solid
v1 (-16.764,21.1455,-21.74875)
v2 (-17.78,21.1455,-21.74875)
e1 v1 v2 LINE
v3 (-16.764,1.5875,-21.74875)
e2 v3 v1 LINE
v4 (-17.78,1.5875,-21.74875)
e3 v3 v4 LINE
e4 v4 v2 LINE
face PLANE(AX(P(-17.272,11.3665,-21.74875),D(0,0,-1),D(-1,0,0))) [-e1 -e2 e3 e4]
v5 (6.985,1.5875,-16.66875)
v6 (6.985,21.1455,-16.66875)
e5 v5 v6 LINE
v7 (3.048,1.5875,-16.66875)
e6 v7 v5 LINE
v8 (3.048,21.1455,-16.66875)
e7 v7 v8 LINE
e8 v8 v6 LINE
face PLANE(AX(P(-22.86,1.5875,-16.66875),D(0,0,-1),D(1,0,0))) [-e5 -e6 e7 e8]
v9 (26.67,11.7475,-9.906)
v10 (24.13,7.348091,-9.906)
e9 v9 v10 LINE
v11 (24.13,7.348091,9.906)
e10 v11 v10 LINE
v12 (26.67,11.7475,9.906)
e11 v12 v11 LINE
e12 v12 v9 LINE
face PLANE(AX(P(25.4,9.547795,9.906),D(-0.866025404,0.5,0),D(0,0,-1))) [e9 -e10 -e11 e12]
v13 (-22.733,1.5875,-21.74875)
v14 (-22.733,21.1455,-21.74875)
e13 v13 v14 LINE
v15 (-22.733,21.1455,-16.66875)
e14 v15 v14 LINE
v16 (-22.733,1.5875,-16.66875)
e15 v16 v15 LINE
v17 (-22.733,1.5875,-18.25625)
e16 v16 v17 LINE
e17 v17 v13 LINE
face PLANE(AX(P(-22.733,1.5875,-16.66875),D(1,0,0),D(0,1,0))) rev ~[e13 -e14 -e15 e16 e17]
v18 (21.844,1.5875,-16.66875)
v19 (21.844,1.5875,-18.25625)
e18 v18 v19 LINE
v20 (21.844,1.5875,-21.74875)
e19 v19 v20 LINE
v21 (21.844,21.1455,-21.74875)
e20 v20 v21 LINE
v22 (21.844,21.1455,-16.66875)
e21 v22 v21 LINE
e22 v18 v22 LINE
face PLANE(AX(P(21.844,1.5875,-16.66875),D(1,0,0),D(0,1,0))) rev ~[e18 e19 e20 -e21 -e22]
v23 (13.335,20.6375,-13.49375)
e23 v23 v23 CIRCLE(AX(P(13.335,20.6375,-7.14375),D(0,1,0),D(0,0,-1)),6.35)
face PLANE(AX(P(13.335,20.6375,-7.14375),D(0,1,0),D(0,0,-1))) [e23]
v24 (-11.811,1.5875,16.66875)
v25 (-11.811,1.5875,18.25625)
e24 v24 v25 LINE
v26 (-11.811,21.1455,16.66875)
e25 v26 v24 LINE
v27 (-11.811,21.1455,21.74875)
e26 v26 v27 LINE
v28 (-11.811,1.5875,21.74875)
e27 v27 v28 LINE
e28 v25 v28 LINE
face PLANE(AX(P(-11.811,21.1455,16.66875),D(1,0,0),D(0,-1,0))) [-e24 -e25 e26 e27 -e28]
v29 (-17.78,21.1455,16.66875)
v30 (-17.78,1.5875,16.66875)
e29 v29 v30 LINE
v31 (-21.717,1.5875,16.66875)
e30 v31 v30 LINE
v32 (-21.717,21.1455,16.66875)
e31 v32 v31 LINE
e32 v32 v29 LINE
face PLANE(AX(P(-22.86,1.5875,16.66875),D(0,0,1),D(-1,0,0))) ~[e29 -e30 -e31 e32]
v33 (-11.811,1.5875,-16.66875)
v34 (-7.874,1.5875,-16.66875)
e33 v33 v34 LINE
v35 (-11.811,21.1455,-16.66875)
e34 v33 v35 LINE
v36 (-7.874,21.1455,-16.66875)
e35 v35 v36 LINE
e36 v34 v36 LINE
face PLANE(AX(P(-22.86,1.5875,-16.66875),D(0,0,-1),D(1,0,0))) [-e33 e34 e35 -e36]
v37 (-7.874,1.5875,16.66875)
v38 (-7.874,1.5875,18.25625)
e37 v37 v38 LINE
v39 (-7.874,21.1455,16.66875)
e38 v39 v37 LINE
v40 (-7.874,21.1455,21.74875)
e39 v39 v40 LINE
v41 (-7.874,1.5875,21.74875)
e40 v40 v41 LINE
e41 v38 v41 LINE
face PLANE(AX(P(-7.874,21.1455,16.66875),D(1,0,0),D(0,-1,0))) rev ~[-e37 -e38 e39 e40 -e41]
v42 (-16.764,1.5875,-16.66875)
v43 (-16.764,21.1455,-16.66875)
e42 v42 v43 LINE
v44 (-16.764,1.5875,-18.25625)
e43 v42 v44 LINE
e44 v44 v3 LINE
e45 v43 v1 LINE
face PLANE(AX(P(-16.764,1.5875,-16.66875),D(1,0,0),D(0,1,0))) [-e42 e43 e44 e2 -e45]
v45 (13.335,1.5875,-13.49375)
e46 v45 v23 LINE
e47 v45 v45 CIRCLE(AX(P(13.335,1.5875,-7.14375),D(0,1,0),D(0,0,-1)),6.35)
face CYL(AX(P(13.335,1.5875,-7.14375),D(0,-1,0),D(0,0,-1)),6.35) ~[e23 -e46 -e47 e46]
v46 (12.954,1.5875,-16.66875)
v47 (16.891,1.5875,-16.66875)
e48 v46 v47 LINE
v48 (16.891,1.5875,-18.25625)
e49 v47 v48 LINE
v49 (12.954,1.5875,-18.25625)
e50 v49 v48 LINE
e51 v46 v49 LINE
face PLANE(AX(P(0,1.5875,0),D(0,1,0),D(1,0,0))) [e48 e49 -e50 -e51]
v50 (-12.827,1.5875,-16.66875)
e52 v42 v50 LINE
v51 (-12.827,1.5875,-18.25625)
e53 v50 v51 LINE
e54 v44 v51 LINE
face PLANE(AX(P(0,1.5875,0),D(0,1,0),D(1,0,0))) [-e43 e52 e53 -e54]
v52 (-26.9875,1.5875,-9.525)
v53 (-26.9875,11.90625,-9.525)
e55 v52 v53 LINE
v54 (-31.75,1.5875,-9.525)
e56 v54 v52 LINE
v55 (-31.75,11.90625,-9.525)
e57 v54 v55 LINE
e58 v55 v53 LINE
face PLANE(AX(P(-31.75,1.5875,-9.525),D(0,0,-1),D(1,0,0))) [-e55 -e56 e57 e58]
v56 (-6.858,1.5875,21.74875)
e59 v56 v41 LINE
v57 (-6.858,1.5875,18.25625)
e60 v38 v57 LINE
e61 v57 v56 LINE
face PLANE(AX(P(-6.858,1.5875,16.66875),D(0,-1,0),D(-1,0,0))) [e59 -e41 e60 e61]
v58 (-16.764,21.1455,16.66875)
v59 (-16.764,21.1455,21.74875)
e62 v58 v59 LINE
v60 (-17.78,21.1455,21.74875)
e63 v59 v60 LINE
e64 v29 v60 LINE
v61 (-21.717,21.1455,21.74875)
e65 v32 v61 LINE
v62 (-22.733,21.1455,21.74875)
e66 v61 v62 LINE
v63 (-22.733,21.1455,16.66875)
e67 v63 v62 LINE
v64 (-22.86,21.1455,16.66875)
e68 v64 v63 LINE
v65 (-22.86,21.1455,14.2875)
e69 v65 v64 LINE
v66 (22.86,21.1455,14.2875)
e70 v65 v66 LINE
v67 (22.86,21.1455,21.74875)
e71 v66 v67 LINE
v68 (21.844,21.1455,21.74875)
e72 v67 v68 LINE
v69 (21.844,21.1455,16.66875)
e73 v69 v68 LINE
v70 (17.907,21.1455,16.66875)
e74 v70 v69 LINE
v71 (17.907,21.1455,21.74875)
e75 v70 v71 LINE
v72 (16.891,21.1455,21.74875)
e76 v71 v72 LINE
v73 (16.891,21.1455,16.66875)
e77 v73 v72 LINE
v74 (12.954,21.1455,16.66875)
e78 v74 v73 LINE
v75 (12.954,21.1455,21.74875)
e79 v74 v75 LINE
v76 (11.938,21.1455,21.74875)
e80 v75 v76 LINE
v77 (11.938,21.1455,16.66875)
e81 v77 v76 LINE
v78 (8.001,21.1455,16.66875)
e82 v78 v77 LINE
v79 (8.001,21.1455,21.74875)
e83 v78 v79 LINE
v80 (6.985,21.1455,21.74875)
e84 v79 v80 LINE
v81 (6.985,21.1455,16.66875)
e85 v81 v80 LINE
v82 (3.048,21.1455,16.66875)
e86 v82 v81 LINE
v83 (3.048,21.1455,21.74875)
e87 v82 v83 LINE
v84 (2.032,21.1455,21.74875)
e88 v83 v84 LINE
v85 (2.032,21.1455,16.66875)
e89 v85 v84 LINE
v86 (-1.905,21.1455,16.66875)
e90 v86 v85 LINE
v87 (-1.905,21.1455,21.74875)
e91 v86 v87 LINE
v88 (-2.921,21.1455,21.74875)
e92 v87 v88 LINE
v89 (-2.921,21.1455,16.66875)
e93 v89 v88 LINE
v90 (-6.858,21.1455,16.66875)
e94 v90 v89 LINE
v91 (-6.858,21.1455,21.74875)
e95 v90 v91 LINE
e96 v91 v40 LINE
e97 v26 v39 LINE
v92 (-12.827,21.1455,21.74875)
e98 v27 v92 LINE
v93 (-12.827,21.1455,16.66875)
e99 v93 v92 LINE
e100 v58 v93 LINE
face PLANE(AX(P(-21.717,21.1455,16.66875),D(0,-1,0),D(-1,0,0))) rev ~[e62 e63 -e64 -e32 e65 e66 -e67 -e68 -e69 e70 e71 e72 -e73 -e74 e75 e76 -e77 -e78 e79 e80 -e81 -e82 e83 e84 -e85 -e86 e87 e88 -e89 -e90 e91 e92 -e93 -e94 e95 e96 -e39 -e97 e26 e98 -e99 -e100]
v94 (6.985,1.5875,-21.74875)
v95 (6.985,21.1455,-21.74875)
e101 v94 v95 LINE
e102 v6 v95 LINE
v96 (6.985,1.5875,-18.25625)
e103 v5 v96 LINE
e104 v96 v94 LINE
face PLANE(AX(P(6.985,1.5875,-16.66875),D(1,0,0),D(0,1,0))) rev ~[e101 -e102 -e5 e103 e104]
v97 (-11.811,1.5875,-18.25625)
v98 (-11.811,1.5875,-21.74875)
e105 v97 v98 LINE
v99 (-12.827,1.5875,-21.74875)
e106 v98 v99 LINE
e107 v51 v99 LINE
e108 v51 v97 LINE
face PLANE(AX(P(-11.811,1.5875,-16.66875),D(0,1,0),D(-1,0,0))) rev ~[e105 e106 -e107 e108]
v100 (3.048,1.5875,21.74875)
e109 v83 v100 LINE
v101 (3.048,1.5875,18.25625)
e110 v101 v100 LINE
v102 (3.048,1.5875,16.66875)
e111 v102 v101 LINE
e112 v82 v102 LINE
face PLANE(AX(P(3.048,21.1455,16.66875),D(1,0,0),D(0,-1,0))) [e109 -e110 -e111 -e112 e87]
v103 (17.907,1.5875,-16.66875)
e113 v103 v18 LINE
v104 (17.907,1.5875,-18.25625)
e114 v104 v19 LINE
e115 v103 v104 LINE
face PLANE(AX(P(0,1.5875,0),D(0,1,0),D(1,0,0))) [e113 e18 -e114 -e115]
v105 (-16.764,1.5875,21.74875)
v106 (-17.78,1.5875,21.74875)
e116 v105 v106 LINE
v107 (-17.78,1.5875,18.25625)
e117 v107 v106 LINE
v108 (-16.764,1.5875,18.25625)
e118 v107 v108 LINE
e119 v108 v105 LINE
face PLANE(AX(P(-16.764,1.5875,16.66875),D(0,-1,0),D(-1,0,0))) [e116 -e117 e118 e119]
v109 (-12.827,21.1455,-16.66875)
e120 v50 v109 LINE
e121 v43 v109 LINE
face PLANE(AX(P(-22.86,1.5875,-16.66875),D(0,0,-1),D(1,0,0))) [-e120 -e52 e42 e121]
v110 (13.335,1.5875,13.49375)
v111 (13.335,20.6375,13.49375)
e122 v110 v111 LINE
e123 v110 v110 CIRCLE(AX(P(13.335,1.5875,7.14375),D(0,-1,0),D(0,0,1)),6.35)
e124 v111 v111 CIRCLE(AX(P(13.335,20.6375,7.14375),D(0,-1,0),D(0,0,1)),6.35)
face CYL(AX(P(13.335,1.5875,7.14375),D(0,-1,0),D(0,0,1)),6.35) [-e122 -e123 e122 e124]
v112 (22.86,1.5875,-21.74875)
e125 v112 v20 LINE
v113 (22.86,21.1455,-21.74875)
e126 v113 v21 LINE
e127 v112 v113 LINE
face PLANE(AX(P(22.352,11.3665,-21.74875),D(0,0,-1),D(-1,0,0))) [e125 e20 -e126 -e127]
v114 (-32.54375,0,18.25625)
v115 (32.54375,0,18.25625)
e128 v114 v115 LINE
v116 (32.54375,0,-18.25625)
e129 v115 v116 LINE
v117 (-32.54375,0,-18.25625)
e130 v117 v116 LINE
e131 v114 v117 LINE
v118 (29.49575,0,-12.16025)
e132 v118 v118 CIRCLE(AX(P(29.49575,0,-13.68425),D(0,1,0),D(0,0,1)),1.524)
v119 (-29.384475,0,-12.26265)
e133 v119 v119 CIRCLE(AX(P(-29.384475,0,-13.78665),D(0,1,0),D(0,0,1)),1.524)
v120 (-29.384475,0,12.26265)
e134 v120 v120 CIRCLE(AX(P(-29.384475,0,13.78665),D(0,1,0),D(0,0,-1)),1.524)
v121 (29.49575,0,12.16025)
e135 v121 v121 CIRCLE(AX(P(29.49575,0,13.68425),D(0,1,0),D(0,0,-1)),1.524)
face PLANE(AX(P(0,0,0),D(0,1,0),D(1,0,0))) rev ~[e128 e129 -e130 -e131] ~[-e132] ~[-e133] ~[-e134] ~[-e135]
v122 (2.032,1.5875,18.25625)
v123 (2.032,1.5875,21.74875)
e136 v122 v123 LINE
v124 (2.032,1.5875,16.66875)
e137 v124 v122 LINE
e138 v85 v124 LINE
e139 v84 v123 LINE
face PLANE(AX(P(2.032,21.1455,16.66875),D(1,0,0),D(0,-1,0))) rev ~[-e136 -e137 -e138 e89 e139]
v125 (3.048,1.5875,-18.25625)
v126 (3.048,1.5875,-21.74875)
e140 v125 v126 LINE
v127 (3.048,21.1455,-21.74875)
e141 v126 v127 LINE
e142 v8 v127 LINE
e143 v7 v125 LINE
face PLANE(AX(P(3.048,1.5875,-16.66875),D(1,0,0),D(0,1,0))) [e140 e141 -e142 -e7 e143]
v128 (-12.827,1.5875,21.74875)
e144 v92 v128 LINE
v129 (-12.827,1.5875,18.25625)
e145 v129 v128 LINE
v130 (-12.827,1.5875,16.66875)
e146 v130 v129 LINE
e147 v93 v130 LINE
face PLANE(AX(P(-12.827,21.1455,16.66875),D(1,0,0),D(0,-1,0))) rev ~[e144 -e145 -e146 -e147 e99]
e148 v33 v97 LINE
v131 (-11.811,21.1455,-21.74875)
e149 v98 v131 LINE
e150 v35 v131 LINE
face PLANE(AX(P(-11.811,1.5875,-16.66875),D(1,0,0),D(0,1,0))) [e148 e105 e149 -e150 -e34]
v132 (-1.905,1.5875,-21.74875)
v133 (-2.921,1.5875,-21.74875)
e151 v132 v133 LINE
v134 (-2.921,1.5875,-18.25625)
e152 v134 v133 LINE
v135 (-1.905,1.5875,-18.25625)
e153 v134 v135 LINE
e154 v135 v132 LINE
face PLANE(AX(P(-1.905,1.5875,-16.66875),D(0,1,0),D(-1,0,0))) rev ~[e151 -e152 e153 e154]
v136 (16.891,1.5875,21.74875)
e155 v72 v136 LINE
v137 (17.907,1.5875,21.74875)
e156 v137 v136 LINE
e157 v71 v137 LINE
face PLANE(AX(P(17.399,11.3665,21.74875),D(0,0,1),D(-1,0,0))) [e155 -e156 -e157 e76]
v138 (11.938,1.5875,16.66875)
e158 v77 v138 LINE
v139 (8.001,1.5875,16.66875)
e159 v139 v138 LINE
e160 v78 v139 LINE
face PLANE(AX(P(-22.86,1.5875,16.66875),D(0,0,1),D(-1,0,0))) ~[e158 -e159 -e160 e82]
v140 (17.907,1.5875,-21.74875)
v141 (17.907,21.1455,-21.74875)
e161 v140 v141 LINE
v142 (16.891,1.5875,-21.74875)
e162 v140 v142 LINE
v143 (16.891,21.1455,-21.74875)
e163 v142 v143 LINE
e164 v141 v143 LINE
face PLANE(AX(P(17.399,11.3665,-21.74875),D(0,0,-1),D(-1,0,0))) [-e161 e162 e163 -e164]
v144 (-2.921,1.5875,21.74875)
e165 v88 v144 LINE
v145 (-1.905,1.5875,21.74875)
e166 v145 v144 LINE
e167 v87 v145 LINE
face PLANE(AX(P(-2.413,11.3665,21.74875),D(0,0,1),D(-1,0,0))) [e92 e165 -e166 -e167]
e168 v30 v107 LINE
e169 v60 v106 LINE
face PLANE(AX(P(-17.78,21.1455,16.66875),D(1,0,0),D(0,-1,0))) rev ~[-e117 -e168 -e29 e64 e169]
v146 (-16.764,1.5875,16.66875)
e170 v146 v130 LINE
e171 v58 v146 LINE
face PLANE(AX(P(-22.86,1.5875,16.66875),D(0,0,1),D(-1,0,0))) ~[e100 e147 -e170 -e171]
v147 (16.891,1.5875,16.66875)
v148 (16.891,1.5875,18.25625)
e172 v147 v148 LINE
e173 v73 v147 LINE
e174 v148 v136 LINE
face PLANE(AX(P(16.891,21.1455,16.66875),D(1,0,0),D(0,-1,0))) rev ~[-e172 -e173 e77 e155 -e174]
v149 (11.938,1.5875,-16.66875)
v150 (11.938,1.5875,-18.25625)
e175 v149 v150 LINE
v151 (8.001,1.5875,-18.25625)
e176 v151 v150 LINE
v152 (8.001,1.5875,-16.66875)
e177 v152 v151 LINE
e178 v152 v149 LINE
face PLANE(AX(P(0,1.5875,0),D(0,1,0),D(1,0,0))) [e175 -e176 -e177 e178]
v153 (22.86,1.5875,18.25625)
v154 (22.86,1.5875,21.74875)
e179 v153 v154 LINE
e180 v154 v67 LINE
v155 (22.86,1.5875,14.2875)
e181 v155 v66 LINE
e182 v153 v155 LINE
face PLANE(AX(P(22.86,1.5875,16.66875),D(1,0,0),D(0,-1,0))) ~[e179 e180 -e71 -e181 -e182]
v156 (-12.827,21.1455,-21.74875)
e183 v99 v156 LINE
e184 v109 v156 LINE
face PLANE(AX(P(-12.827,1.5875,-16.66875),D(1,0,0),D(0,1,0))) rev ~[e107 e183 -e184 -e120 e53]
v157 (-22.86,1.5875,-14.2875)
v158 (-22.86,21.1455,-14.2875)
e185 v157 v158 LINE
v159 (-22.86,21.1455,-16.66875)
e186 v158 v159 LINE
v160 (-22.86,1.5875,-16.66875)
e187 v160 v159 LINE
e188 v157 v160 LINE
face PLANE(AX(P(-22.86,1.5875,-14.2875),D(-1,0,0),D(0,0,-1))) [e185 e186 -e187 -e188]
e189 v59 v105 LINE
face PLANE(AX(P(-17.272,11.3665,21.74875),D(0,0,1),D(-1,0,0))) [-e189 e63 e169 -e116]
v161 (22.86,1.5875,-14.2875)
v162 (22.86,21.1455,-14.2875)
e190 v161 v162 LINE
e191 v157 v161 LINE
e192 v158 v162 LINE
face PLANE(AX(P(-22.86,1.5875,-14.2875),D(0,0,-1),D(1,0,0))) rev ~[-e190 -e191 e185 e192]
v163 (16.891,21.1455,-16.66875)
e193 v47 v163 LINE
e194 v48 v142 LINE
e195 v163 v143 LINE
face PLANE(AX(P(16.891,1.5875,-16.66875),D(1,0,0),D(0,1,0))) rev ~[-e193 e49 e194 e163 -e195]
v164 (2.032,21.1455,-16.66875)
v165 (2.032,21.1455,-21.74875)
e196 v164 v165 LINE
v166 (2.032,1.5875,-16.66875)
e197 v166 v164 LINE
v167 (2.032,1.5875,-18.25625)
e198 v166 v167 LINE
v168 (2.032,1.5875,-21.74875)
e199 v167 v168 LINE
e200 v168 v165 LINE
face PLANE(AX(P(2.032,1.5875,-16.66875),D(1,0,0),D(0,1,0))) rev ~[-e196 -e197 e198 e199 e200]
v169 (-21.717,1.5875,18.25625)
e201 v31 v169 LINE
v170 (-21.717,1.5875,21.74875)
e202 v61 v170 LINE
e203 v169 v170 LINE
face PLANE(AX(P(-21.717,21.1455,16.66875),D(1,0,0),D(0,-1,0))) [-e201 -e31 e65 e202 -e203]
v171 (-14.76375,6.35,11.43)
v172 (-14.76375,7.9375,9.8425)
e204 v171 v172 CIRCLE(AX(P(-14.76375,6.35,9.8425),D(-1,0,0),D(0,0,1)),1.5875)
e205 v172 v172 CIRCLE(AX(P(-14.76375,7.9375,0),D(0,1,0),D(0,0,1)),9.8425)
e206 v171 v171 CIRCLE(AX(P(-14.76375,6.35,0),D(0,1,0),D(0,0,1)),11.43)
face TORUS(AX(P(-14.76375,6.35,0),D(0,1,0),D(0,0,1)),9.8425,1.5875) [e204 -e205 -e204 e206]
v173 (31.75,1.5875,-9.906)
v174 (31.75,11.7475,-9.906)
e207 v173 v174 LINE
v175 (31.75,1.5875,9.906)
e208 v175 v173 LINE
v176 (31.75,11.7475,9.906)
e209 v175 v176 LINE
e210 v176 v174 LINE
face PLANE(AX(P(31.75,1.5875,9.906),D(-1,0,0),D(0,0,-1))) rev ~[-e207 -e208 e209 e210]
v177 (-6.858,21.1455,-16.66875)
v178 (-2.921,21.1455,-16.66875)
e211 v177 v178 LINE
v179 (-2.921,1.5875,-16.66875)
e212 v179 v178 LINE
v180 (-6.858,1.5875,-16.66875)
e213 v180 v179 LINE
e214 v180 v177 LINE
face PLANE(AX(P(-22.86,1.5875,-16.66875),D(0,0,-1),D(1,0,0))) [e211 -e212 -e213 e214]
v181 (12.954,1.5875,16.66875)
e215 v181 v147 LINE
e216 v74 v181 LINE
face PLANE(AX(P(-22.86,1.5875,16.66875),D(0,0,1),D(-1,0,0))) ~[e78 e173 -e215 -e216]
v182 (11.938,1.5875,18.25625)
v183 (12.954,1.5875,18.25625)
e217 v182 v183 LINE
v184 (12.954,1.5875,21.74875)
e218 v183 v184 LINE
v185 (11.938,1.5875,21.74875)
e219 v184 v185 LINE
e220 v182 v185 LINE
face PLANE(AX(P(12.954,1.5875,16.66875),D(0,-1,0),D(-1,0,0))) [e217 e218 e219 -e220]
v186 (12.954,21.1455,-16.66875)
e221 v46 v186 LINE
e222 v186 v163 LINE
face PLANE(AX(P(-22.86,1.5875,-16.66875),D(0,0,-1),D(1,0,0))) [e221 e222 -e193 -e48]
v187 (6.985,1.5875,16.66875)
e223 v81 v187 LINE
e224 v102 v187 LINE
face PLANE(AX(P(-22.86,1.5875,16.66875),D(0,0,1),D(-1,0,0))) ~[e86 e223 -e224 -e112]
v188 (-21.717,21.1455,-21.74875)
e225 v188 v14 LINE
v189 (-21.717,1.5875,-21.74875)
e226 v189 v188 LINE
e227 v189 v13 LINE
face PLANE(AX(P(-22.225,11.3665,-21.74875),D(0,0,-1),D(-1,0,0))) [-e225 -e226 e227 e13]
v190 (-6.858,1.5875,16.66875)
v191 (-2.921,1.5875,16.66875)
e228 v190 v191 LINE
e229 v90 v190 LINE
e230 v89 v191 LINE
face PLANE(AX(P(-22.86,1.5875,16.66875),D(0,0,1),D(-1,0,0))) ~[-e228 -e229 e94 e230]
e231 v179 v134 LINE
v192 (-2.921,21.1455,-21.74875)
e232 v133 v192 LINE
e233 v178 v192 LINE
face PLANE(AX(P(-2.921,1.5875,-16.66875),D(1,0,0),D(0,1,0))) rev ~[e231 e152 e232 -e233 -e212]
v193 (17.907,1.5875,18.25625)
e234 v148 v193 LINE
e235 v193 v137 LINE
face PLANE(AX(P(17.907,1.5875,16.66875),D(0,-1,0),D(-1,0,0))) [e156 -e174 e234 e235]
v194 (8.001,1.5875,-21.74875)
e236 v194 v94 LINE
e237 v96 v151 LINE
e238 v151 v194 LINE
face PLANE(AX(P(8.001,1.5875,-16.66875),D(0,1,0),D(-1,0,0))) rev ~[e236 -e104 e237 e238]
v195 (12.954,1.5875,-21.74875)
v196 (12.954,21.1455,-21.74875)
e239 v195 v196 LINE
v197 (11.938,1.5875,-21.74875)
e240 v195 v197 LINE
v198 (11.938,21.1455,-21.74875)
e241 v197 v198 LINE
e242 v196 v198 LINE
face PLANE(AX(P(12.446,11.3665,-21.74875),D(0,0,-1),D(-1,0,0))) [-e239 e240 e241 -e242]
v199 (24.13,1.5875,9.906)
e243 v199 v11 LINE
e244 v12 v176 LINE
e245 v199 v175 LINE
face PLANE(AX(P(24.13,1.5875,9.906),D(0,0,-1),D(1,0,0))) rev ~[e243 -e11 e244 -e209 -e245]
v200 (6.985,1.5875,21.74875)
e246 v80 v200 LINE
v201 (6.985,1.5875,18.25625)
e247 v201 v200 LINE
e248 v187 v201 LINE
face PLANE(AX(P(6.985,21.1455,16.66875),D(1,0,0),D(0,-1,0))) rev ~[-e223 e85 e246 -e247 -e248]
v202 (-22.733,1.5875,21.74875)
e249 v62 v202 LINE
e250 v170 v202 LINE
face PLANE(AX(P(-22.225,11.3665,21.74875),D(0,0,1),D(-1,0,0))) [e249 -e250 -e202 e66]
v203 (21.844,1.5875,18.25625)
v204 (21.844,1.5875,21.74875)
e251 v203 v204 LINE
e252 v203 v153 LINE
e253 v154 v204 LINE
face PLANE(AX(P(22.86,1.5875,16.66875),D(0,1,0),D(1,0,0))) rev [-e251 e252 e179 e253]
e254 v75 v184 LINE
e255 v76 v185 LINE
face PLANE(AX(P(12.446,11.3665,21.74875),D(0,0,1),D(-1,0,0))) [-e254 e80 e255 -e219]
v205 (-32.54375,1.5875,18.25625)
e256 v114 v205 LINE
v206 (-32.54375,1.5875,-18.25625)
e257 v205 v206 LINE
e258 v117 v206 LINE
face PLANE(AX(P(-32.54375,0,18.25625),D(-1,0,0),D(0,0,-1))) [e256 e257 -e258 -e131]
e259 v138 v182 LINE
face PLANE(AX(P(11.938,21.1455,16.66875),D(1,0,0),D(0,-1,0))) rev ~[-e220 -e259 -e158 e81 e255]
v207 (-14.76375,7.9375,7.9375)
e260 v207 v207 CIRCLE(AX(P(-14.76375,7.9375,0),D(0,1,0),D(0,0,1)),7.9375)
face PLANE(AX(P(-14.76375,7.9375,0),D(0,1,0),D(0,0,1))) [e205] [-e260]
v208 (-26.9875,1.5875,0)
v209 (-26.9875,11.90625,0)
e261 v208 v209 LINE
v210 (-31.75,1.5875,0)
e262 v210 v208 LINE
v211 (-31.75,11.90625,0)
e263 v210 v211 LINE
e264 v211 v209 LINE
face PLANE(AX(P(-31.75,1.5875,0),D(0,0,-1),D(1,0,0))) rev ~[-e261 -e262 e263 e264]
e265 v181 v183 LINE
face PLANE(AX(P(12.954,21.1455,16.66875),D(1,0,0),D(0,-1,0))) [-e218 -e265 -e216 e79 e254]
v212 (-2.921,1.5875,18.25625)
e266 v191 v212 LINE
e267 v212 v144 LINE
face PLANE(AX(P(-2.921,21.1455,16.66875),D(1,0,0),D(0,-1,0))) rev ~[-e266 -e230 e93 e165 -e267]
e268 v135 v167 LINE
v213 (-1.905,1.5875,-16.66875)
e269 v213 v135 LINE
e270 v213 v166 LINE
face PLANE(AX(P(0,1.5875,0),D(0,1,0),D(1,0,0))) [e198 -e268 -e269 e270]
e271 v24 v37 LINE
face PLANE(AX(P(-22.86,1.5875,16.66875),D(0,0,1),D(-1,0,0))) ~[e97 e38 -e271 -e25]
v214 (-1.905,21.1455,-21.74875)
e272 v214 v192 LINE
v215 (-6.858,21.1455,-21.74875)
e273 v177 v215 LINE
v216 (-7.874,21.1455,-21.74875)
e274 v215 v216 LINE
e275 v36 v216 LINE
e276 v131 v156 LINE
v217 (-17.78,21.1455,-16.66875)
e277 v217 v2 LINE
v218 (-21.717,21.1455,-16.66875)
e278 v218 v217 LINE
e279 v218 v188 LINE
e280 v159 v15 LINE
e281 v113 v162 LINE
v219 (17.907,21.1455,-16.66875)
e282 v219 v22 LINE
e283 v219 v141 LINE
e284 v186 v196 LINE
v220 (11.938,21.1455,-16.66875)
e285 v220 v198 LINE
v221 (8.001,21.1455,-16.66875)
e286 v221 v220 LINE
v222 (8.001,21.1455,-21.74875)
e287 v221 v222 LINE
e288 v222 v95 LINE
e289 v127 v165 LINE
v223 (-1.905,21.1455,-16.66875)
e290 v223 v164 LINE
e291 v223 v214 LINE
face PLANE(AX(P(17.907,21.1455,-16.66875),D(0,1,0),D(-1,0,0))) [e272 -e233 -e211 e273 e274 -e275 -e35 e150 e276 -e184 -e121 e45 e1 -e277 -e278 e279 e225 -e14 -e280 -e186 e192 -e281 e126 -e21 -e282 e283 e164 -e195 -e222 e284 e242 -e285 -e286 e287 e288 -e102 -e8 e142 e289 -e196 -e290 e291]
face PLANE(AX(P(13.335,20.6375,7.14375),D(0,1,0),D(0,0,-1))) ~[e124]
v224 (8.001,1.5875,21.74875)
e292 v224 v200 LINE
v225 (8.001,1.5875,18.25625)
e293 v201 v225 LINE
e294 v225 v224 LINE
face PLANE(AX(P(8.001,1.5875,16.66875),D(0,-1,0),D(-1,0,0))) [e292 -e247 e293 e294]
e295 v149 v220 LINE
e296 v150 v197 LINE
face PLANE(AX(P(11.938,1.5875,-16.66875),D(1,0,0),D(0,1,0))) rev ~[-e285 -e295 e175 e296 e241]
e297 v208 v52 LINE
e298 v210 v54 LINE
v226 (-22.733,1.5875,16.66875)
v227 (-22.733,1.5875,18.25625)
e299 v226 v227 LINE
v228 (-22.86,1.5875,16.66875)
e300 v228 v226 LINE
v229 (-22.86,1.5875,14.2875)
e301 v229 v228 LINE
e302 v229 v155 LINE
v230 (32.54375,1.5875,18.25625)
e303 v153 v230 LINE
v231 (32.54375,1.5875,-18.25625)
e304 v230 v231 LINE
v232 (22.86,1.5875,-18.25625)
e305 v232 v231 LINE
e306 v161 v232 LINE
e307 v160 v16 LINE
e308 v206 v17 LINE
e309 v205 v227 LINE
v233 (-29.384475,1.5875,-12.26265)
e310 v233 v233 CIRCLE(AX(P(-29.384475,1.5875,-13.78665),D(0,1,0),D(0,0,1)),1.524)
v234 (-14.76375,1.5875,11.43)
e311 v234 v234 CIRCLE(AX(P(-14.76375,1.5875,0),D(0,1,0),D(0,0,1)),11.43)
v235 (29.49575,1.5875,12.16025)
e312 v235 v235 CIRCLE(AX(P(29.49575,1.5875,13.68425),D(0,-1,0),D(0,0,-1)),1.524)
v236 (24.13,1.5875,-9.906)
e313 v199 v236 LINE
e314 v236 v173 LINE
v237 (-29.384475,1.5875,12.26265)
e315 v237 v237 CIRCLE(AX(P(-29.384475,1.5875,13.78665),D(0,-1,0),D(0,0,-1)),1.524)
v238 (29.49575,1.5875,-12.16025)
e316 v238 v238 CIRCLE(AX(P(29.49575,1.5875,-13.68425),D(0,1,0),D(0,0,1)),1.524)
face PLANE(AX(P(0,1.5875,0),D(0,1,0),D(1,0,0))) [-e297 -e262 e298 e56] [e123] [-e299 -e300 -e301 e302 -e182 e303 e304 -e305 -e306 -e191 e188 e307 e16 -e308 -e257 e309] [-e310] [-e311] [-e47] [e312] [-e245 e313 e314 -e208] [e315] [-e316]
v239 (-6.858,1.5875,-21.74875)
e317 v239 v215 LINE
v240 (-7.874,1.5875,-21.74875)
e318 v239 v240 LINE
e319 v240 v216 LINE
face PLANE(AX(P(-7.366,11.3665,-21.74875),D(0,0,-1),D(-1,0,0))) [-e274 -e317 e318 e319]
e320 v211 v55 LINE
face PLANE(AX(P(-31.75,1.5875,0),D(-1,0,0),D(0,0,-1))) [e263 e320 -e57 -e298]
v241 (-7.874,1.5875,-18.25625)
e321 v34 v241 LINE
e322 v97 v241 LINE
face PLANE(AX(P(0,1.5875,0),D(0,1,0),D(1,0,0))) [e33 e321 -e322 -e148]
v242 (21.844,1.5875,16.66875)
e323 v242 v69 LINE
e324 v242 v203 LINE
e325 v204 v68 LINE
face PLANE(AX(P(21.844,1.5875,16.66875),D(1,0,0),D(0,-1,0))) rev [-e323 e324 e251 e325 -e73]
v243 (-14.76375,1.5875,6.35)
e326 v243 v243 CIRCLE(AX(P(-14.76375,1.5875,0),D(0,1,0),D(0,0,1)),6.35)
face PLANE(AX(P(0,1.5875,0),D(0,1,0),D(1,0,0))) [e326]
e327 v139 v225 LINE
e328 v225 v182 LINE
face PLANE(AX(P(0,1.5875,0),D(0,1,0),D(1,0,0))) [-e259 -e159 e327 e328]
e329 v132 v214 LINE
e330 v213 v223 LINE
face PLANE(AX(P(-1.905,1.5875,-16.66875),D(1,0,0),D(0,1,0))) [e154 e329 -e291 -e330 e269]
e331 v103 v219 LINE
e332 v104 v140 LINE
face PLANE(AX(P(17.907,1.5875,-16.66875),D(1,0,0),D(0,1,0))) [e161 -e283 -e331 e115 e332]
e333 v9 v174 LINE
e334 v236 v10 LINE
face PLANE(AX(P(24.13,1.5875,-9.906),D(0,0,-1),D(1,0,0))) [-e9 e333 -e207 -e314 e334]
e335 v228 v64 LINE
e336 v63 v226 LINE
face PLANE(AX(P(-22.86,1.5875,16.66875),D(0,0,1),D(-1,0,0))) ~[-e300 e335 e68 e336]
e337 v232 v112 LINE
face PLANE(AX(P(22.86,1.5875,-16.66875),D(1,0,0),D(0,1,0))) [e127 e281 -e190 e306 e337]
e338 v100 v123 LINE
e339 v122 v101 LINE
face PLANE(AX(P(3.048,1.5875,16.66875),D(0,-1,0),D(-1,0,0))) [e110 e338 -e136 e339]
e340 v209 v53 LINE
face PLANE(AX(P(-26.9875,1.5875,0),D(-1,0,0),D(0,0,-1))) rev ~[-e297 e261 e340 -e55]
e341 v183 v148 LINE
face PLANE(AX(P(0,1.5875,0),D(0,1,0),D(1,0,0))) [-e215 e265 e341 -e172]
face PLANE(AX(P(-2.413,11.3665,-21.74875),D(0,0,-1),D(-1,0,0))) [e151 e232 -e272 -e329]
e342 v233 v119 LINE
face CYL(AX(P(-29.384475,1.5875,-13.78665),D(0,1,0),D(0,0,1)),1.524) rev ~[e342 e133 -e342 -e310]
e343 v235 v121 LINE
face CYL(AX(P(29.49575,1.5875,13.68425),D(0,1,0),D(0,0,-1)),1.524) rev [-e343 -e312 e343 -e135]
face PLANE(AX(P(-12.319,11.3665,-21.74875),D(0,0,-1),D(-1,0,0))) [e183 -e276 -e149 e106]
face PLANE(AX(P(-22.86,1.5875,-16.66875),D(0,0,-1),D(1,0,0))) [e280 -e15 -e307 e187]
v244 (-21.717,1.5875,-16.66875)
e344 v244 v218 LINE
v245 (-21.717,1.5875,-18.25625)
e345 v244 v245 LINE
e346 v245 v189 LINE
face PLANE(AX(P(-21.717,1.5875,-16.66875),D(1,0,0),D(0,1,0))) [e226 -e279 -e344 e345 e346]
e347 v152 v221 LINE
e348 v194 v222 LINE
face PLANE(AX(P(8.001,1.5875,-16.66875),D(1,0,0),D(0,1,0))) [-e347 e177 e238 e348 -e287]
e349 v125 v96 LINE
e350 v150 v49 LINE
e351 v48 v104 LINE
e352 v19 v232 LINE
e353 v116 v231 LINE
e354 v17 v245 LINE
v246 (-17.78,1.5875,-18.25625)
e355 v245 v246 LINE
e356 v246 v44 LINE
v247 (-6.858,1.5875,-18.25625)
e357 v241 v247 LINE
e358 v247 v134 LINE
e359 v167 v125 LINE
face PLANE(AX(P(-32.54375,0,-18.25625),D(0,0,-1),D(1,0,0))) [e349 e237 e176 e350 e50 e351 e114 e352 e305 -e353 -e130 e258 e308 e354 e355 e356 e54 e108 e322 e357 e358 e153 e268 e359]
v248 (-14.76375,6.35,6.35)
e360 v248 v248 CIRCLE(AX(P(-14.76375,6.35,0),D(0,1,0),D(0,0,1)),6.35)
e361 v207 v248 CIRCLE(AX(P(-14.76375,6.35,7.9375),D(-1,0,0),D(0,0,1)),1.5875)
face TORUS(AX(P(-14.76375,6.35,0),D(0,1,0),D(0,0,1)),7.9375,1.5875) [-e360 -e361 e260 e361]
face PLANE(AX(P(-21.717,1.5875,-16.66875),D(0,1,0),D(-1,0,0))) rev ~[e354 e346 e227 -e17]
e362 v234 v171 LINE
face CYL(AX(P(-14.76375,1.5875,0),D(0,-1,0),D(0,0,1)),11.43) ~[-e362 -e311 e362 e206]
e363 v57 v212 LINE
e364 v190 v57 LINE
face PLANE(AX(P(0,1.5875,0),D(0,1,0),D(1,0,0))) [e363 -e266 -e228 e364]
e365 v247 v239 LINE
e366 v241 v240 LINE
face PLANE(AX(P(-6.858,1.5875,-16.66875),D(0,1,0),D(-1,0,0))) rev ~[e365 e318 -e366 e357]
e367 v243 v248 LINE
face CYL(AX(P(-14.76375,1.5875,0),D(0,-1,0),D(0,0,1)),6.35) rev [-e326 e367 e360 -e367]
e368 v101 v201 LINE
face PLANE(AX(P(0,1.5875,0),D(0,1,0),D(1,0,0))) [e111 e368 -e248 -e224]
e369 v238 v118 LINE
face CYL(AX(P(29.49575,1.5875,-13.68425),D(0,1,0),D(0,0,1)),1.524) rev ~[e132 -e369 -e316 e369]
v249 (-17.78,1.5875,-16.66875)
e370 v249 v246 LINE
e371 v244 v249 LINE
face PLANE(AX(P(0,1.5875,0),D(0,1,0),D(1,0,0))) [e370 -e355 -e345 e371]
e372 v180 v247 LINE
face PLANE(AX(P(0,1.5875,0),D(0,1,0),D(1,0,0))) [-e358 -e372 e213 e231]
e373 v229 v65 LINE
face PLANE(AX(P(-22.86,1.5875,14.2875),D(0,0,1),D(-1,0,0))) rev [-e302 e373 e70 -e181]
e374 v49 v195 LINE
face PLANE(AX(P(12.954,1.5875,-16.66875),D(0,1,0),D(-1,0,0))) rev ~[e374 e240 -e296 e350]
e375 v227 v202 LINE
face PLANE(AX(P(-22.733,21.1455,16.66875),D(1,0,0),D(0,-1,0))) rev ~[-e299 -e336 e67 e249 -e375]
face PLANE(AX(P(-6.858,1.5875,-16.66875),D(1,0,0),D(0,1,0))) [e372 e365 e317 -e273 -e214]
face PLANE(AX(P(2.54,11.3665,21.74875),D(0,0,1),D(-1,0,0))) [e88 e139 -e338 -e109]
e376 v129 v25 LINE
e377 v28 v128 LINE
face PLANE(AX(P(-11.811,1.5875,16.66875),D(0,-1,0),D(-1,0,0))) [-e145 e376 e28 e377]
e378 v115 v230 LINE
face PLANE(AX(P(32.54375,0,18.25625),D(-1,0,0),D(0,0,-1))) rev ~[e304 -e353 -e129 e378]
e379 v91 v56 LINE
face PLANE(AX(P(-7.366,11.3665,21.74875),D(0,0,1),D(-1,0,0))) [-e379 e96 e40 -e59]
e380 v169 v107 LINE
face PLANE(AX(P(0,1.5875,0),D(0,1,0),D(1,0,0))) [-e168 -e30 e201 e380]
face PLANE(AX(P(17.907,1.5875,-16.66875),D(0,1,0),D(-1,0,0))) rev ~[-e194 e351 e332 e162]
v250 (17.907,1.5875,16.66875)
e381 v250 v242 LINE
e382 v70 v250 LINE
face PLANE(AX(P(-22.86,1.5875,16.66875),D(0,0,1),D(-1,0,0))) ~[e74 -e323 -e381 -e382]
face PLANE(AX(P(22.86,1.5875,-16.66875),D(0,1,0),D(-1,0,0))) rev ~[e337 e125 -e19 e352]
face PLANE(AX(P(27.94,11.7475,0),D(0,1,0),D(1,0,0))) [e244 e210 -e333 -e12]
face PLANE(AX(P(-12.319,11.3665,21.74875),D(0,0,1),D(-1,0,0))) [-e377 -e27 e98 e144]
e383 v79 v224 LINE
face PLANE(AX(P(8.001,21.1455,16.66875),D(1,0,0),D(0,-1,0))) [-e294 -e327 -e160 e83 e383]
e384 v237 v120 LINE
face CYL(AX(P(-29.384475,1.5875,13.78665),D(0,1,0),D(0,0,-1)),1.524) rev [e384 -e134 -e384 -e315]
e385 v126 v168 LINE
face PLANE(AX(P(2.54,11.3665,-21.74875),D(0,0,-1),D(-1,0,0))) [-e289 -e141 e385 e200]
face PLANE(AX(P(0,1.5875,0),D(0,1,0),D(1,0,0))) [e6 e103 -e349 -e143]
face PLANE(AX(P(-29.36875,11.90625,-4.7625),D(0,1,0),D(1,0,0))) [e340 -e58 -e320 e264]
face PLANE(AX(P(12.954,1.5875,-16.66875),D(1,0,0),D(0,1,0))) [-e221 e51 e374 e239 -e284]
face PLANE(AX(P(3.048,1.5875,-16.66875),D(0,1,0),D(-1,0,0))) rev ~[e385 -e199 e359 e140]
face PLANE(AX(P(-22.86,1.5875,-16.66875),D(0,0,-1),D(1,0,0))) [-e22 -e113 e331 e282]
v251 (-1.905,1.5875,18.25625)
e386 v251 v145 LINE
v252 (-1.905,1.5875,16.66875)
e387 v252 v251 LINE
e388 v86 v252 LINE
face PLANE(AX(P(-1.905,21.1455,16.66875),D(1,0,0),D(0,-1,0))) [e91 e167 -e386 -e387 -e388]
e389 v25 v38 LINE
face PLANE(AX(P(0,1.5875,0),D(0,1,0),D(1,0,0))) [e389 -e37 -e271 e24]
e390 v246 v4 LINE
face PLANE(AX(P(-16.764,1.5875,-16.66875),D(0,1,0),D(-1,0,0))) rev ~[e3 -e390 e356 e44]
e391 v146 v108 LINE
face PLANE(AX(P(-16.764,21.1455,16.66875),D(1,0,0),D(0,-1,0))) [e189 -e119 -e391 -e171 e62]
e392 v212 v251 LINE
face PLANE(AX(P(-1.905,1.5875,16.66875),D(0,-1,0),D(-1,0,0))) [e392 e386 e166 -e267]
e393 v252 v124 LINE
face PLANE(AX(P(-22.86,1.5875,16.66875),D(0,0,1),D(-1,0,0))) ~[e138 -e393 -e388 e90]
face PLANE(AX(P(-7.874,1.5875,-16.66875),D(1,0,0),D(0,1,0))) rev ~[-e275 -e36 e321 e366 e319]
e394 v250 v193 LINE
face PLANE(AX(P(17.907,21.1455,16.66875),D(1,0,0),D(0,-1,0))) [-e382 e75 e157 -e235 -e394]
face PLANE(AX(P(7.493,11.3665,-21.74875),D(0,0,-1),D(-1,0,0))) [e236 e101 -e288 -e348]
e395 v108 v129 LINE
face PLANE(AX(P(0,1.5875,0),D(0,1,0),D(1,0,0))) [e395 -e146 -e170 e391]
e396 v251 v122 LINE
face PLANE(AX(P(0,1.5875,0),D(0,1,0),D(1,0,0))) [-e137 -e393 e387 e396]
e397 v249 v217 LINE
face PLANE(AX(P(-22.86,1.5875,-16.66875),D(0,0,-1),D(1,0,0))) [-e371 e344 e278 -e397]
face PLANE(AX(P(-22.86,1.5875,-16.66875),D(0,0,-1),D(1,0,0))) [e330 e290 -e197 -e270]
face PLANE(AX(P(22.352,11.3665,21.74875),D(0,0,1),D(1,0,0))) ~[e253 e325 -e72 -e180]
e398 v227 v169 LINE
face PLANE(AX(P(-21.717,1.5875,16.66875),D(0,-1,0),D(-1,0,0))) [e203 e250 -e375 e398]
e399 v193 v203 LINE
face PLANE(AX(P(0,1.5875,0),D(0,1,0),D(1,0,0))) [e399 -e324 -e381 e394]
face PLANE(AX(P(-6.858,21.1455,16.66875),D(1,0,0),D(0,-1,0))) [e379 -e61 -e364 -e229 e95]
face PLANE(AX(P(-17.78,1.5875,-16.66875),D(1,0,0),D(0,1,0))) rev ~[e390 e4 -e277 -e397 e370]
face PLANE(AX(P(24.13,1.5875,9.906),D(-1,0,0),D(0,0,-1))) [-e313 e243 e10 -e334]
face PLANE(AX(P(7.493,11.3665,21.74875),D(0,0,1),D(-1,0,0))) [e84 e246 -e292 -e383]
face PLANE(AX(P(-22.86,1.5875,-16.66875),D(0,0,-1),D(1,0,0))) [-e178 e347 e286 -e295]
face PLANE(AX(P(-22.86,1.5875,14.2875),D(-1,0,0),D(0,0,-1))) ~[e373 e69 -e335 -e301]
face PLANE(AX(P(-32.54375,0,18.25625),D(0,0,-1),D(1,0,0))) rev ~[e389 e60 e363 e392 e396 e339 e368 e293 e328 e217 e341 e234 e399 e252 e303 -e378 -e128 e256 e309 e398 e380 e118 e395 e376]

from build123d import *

# Parameters (mm, degrees)
SKETCH1_W               = 65.0875
SKETCH1_H               = 36.5125
BOSS_EXTRUDE1_DEPTH     = 1.5875
SKETCH2_W               = 45.72
SKETCH2_H               = 2.38125
BOSS_EXTRUDE2_DEPTH     = 19.558
SKETCH3_W               = 1.016
SKETCH3_H               = 19.558
BOSS_EXTRUDE3_DEPTH     = 5.08
LPATTERN1_COUNT         = 10
LPATTERN1_PITCH         = 4.953
SKETCH4_R               = 6.35
BOSS_EXTRUDE4_DEPTH     = 19.05
SKETCH5_R               = 1.524
CUT_EXTRUDE1_DEPTH      = 19.05
MIRROR1_COPY_1_SKETCH_W = 1.016
MIRROR1_COPY_1_SKETCH_H = 19.558
MIRROR1_COPY_1_DEPTH    = 5.08
MIRROR1_COPY_2_SKETCH_W = 1.016
MIRROR1_COPY_2_SKETCH_H = 19.558
MIRROR1_COPY_2_DEPTH    = 5.08
MIRROR1_COPY_3_SKETCH_W = 1.016
MIRROR1_COPY_3_SKETCH_H = 19.558
MIRROR1_COPY_3_DEPTH    = 5.08
MIRROR1_COPY_4_SKETCH_W = 1.016
MIRROR1_COPY_4_SKETCH_H = 19.558
MIRROR1_COPY_4_DEPTH    = 5.08
MIRROR1_COPY_5_SKETCH_W = 1.016
MIRROR1_COPY_5_SKETCH_H = 19.558
MIRROR1_COPY_5_DEPTH    = 5.08
MIRROR1_COPY_6_SKETCH_W = 1.016
MIRROR1_COPY_6_SKETCH_H = 19.558
MIRROR1_COPY_6_DEPTH    = 5.08
MIRROR1_COPY_7_SKETCH_W = 1.016
MIRROR1_COPY_7_SKETCH_H = 19.558
MIRROR1_COPY_7_DEPTH    = 5.08
MIRROR1_COPY_8_SKETCH_W = 1.016
MIRROR1_COPY_8_SKETCH_H = 19.558
MIRROR1_COPY_8_DEPTH    = 5.08
MIRROR1_COPY_9_SKETCH_W = 1.016
MIRROR1_COPY_9_SKETCH_H = 19.558
MIRROR1_COPY_9_DEPTH    = 5.08
SKETCH6_R               = 11.43
SKETCH6_R_2             = 6.35
BOSS_EXTRUDE5_DEPTH     = 6.35
FILLET1_R               = 1.5875
SKETCH7_W               = 7.62
SKETCH7_H               = 19.812
BOSS_EXTRUDE6_DEPTH     = 10.16
CHAMFER1_SIZE           = 2.54
CHAMFER1_SIZE2          = 4.399409051
SKETCH8_W               = 4.7625
SKETCH8_H               = 9.525
BOSS_EXTRUDE7_DEPTH     = 10.31875


with BuildPart() as part:
    # Sketch1 → Boss-Extrude1 (new body)
    with BuildSketch(Plane(origin=(0, 0, 0), x_dir=(1, 0, 0), z_dir=(0, 1, 0))):
        Rectangle(SKETCH1_W, SKETCH1_H)
    extrude(amount=BOSS_EXTRUDE1_DEPTH)

    # Sketch2 → Boss-Extrude2 (add)
    with BuildSketch(Plane(origin=(0, 1.5875, 0), x_dir=(1, 0, 0), z_dir=(0, 1, 0))):
        with Locations((0, 15.478125)):
            Rectangle(SKETCH2_W, SKETCH2_H)
    boss_extrude2 = extrude(amount=BOSS_EXTRUDE2_DEPTH)

    # Sketch3 → Boss-Extrude3 (add)
    with BuildSketch(Plane(origin=(0, 0, -16.66875), x_dir=(-1, 0, 0), z_dir=(0, 0, -1))):
        with Locations((-22.352, 11.3665)):
            Rectangle(SKETCH3_W, SKETCH3_H)
    boss_extrude3 = extrude(amount=BOSS_EXTRUDE3_DEPTH)

    # LPattern1: Boss-Extrude3 ×10
    with Locations(*[(-i * LPATTERN1_PITCH, 0, 0) for i in range(1, LPATTERN1_COUNT)]):
        add(boss_extrude3)

    # Sketch4 → Boss-Extrude4 (add)
    with BuildSketch(Plane(origin=(0, 1.5875, 0), x_dir=(1, 0, 0), z_dir=(0, 1, 0))):
        with Locations(Location((13.335, 7.14375, 0), (0, 0, 90))):
            Circle(SKETCH4_R)
    boss_extrude4 = extrude(amount=BOSS_EXTRUDE4_DEPTH)

    # Sketch5 → Cut-Extrude1 (cut)
    with BuildSketch(Plane(origin=(0, 1.5875, 0), x_dir=(1, 0, 0), z_dir=(0, 1, 0))):
        with Locations(Location((29.49575, 13.68425, 0), (0, 0, 270))):
            Circle(SKETCH5_R)
        with Locations(Location((-29.384474521, 13.78665039, 0), (0, 0, 270))):
            Circle(SKETCH5_R)
    cut_extrude1 = extrude(amount=-CUT_EXTRUDE1_DEPTH, mode=Mode.SUBTRACT)

    # Mirror1: Boss-Extrude2, Boss-Extrude3, Boss-Extrude4, Cut-Extrude1 across plane
    add(boss_extrude2.mirror(Plane.XY))
    add(boss_extrude3.mirror(Plane.XY))
    add(boss_extrude4.mirror(Plane.XY))
    add(cut_extrude1.mirror(Plane.XY), mode=Mode.SUBTRACT)

    # Mirror1 copy 1 sketch → Mirror1 copy 1 (add)
    with BuildSketch(Plane(origin=(-4.953, 0, 16.66875), x_dir=(-1, 0, 0), z_dir=(0, 0, 1))):
        with Locations((-22.352, -11.3665)):
            Rectangle(MIRROR1_COPY_1_SKETCH_W, MIRROR1_COPY_1_SKETCH_H)
    extrude(amount=MIRROR1_COPY_1_DEPTH)

    # Mirror1 copy 2 sketch → Mirror1 copy 2 (add)
    with BuildSketch(Plane(origin=(-9.906, 0, 16.66875), x_dir=(-1, 0, 0), z_dir=(0, 0, 1))):
        with Locations((-22.352, -11.3665)):
            Rectangle(MIRROR1_COPY_2_SKETCH_W, MIRROR1_COPY_2_SKETCH_H)
    extrude(amount=MIRROR1_COPY_2_DEPTH)

    # Mirror1 copy 3 sketch → Mirror1 copy 3 (add)
    with BuildSketch(Plane(origin=(-14.859, 0, 16.66875), x_dir=(-1, 0, 0), z_dir=(0, 0, 1))):
        with Locations((-22.352, -11.3665)):
            Rectangle(MIRROR1_COPY_3_SKETCH_W, MIRROR1_COPY_3_SKETCH_H)
    extrude(amount=MIRROR1_COPY_3_DEPTH)

    # Mirror1 copy 4 sketch → Mirror1 copy 4 (add)
    with BuildSketch(Plane(origin=(-19.812, 0, 16.66875), x_dir=(-1, 0, 0), z_dir=(0, 0, 1))):
        with Locations((-22.352, -11.3665)):
            Rectangle(MIRROR1_COPY_4_SKETCH_W, MIRROR1_COPY_4_SKETCH_H)
    extrude(amount=MIRROR1_COPY_4_DEPTH)

    # Mirror1 copy 5 sketch → Mirror1 copy 5 (add)
    with BuildSketch(Plane(origin=(-24.765, 0, 16.66875), x_dir=(-1, 0, 0), z_dir=(0, 0, 1))):
        with Locations((-22.352, -11.3665)):
            Rectangle(MIRROR1_COPY_5_SKETCH_W, MIRROR1_COPY_5_SKETCH_H)
    extrude(amount=MIRROR1_COPY_5_DEPTH)

    # Mirror1 copy 6 sketch → Mirror1 copy 6 (add)
    with BuildSketch(Plane(origin=(-29.718, 0, 16.66875), x_dir=(-1, 0, 0), z_dir=(0, 0, 1))):
        with Locations((-22.352, -11.3665)):
            Rectangle(MIRROR1_COPY_6_SKETCH_W, MIRROR1_COPY_6_SKETCH_H)
    extrude(amount=MIRROR1_COPY_6_DEPTH)

    # Mirror1 copy 7 sketch → Mirror1 copy 7 (add)
    with BuildSketch(Plane(origin=(-34.671, 0, 16.66875), x_dir=(-1, 0, 0), z_dir=(0, 0, 1))):
        with Locations((-22.352, -11.3665)):
            Rectangle(MIRROR1_COPY_7_SKETCH_W, MIRROR1_COPY_7_SKETCH_H)
    extrude(amount=MIRROR1_COPY_7_DEPTH)

    # Mirror1 copy 8 sketch → Mirror1 copy 8 (add)
    with BuildSketch(Plane(origin=(-39.624, 0, 16.66875), x_dir=(-1, 0, 0), z_dir=(0, 0, 1))):
        with Locations((-22.352, -11.3665)):
            Rectangle(MIRROR1_COPY_8_SKETCH_W, MIRROR1_COPY_8_SKETCH_H)
    extrude(amount=MIRROR1_COPY_8_DEPTH)

    # Mirror1 copy 9 sketch → Mirror1 copy 9 (add)
    with BuildSketch(Plane(origin=(-44.577, 0, 16.66875), x_dir=(-1, 0, 0), z_dir=(0, 0, 1))):
        with Locations((-22.352, -11.3665)):
            Rectangle(MIRROR1_COPY_9_SKETCH_W, MIRROR1_COPY_9_SKETCH_H)
    extrude(amount=MIRROR1_COPY_9_DEPTH)

    # Sketch6 → Boss-Extrude5 (add)
    with BuildSketch(Plane(origin=(0, 1.5875, 0), x_dir=(1, 0, 0), z_dir=(0, 1, 0))):
        with Locations(Location((-14.76375, 0, 0), (0, 0, 270))):
            Circle(SKETCH6_R)
        with Locations(Location((-14.76375, 0, 0), (0, 0, 270))):
            Circle(SKETCH6_R_2, mode=Mode.SUBTRACT)
    extrude(amount=BOSS_EXTRUDE5_DEPTH)

    # Fillet1
    fillet1_edges = [part.edges().sort_by_distance(p)[0] for p in [
        (-14.76375, 7.9375, -11.43),
        (-14.76375, 7.9375, -6.35),
    ]]
    fillet(fillet1_edges, radius=FILLET1_R)

    # Sketch7 → Boss-Extrude6 (add)
    with BuildSketch(Plane(origin=(0, 1.5875, 0), x_dir=(1, 0, 0), z_dir=(0, 1, 0))):
        with Locations((27.94, 0)):
            Rectangle(SKETCH7_W, SKETCH7_H)
    extrude(amount=BOSS_EXTRUDE6_DEPTH)

    # Chamfer1
    chamfer1_edges = [part.edges().sort_by_distance(p)[0] for p in [
        (24.13, 11.7475, 0),
    ]]
    chamfer1_side = [part.faces().sort_by_distance(p)[0] for p in [
        (27.94, 11.7475, 0),
    ]]
    chamfer(chamfer1_edges, length=CHAMFER1_SIZE, length2=CHAMFER1_SIZE2, reference=chamfer1_side[0])

    # Sketch8 → Boss-Extrude7 (add)
    with BuildSketch(Plane(origin=(0, 1.5875, 0), x_dir=(1, 0, 0), z_dir=(0, 1, 0))):
        with Locations((-29.36875, 4.7625)):
            Rectangle(SKETCH8_W, SKETCH8_H)
    extrude(amount=BOSS_EXTRUDE7_DEPTH)


solid = part.part
